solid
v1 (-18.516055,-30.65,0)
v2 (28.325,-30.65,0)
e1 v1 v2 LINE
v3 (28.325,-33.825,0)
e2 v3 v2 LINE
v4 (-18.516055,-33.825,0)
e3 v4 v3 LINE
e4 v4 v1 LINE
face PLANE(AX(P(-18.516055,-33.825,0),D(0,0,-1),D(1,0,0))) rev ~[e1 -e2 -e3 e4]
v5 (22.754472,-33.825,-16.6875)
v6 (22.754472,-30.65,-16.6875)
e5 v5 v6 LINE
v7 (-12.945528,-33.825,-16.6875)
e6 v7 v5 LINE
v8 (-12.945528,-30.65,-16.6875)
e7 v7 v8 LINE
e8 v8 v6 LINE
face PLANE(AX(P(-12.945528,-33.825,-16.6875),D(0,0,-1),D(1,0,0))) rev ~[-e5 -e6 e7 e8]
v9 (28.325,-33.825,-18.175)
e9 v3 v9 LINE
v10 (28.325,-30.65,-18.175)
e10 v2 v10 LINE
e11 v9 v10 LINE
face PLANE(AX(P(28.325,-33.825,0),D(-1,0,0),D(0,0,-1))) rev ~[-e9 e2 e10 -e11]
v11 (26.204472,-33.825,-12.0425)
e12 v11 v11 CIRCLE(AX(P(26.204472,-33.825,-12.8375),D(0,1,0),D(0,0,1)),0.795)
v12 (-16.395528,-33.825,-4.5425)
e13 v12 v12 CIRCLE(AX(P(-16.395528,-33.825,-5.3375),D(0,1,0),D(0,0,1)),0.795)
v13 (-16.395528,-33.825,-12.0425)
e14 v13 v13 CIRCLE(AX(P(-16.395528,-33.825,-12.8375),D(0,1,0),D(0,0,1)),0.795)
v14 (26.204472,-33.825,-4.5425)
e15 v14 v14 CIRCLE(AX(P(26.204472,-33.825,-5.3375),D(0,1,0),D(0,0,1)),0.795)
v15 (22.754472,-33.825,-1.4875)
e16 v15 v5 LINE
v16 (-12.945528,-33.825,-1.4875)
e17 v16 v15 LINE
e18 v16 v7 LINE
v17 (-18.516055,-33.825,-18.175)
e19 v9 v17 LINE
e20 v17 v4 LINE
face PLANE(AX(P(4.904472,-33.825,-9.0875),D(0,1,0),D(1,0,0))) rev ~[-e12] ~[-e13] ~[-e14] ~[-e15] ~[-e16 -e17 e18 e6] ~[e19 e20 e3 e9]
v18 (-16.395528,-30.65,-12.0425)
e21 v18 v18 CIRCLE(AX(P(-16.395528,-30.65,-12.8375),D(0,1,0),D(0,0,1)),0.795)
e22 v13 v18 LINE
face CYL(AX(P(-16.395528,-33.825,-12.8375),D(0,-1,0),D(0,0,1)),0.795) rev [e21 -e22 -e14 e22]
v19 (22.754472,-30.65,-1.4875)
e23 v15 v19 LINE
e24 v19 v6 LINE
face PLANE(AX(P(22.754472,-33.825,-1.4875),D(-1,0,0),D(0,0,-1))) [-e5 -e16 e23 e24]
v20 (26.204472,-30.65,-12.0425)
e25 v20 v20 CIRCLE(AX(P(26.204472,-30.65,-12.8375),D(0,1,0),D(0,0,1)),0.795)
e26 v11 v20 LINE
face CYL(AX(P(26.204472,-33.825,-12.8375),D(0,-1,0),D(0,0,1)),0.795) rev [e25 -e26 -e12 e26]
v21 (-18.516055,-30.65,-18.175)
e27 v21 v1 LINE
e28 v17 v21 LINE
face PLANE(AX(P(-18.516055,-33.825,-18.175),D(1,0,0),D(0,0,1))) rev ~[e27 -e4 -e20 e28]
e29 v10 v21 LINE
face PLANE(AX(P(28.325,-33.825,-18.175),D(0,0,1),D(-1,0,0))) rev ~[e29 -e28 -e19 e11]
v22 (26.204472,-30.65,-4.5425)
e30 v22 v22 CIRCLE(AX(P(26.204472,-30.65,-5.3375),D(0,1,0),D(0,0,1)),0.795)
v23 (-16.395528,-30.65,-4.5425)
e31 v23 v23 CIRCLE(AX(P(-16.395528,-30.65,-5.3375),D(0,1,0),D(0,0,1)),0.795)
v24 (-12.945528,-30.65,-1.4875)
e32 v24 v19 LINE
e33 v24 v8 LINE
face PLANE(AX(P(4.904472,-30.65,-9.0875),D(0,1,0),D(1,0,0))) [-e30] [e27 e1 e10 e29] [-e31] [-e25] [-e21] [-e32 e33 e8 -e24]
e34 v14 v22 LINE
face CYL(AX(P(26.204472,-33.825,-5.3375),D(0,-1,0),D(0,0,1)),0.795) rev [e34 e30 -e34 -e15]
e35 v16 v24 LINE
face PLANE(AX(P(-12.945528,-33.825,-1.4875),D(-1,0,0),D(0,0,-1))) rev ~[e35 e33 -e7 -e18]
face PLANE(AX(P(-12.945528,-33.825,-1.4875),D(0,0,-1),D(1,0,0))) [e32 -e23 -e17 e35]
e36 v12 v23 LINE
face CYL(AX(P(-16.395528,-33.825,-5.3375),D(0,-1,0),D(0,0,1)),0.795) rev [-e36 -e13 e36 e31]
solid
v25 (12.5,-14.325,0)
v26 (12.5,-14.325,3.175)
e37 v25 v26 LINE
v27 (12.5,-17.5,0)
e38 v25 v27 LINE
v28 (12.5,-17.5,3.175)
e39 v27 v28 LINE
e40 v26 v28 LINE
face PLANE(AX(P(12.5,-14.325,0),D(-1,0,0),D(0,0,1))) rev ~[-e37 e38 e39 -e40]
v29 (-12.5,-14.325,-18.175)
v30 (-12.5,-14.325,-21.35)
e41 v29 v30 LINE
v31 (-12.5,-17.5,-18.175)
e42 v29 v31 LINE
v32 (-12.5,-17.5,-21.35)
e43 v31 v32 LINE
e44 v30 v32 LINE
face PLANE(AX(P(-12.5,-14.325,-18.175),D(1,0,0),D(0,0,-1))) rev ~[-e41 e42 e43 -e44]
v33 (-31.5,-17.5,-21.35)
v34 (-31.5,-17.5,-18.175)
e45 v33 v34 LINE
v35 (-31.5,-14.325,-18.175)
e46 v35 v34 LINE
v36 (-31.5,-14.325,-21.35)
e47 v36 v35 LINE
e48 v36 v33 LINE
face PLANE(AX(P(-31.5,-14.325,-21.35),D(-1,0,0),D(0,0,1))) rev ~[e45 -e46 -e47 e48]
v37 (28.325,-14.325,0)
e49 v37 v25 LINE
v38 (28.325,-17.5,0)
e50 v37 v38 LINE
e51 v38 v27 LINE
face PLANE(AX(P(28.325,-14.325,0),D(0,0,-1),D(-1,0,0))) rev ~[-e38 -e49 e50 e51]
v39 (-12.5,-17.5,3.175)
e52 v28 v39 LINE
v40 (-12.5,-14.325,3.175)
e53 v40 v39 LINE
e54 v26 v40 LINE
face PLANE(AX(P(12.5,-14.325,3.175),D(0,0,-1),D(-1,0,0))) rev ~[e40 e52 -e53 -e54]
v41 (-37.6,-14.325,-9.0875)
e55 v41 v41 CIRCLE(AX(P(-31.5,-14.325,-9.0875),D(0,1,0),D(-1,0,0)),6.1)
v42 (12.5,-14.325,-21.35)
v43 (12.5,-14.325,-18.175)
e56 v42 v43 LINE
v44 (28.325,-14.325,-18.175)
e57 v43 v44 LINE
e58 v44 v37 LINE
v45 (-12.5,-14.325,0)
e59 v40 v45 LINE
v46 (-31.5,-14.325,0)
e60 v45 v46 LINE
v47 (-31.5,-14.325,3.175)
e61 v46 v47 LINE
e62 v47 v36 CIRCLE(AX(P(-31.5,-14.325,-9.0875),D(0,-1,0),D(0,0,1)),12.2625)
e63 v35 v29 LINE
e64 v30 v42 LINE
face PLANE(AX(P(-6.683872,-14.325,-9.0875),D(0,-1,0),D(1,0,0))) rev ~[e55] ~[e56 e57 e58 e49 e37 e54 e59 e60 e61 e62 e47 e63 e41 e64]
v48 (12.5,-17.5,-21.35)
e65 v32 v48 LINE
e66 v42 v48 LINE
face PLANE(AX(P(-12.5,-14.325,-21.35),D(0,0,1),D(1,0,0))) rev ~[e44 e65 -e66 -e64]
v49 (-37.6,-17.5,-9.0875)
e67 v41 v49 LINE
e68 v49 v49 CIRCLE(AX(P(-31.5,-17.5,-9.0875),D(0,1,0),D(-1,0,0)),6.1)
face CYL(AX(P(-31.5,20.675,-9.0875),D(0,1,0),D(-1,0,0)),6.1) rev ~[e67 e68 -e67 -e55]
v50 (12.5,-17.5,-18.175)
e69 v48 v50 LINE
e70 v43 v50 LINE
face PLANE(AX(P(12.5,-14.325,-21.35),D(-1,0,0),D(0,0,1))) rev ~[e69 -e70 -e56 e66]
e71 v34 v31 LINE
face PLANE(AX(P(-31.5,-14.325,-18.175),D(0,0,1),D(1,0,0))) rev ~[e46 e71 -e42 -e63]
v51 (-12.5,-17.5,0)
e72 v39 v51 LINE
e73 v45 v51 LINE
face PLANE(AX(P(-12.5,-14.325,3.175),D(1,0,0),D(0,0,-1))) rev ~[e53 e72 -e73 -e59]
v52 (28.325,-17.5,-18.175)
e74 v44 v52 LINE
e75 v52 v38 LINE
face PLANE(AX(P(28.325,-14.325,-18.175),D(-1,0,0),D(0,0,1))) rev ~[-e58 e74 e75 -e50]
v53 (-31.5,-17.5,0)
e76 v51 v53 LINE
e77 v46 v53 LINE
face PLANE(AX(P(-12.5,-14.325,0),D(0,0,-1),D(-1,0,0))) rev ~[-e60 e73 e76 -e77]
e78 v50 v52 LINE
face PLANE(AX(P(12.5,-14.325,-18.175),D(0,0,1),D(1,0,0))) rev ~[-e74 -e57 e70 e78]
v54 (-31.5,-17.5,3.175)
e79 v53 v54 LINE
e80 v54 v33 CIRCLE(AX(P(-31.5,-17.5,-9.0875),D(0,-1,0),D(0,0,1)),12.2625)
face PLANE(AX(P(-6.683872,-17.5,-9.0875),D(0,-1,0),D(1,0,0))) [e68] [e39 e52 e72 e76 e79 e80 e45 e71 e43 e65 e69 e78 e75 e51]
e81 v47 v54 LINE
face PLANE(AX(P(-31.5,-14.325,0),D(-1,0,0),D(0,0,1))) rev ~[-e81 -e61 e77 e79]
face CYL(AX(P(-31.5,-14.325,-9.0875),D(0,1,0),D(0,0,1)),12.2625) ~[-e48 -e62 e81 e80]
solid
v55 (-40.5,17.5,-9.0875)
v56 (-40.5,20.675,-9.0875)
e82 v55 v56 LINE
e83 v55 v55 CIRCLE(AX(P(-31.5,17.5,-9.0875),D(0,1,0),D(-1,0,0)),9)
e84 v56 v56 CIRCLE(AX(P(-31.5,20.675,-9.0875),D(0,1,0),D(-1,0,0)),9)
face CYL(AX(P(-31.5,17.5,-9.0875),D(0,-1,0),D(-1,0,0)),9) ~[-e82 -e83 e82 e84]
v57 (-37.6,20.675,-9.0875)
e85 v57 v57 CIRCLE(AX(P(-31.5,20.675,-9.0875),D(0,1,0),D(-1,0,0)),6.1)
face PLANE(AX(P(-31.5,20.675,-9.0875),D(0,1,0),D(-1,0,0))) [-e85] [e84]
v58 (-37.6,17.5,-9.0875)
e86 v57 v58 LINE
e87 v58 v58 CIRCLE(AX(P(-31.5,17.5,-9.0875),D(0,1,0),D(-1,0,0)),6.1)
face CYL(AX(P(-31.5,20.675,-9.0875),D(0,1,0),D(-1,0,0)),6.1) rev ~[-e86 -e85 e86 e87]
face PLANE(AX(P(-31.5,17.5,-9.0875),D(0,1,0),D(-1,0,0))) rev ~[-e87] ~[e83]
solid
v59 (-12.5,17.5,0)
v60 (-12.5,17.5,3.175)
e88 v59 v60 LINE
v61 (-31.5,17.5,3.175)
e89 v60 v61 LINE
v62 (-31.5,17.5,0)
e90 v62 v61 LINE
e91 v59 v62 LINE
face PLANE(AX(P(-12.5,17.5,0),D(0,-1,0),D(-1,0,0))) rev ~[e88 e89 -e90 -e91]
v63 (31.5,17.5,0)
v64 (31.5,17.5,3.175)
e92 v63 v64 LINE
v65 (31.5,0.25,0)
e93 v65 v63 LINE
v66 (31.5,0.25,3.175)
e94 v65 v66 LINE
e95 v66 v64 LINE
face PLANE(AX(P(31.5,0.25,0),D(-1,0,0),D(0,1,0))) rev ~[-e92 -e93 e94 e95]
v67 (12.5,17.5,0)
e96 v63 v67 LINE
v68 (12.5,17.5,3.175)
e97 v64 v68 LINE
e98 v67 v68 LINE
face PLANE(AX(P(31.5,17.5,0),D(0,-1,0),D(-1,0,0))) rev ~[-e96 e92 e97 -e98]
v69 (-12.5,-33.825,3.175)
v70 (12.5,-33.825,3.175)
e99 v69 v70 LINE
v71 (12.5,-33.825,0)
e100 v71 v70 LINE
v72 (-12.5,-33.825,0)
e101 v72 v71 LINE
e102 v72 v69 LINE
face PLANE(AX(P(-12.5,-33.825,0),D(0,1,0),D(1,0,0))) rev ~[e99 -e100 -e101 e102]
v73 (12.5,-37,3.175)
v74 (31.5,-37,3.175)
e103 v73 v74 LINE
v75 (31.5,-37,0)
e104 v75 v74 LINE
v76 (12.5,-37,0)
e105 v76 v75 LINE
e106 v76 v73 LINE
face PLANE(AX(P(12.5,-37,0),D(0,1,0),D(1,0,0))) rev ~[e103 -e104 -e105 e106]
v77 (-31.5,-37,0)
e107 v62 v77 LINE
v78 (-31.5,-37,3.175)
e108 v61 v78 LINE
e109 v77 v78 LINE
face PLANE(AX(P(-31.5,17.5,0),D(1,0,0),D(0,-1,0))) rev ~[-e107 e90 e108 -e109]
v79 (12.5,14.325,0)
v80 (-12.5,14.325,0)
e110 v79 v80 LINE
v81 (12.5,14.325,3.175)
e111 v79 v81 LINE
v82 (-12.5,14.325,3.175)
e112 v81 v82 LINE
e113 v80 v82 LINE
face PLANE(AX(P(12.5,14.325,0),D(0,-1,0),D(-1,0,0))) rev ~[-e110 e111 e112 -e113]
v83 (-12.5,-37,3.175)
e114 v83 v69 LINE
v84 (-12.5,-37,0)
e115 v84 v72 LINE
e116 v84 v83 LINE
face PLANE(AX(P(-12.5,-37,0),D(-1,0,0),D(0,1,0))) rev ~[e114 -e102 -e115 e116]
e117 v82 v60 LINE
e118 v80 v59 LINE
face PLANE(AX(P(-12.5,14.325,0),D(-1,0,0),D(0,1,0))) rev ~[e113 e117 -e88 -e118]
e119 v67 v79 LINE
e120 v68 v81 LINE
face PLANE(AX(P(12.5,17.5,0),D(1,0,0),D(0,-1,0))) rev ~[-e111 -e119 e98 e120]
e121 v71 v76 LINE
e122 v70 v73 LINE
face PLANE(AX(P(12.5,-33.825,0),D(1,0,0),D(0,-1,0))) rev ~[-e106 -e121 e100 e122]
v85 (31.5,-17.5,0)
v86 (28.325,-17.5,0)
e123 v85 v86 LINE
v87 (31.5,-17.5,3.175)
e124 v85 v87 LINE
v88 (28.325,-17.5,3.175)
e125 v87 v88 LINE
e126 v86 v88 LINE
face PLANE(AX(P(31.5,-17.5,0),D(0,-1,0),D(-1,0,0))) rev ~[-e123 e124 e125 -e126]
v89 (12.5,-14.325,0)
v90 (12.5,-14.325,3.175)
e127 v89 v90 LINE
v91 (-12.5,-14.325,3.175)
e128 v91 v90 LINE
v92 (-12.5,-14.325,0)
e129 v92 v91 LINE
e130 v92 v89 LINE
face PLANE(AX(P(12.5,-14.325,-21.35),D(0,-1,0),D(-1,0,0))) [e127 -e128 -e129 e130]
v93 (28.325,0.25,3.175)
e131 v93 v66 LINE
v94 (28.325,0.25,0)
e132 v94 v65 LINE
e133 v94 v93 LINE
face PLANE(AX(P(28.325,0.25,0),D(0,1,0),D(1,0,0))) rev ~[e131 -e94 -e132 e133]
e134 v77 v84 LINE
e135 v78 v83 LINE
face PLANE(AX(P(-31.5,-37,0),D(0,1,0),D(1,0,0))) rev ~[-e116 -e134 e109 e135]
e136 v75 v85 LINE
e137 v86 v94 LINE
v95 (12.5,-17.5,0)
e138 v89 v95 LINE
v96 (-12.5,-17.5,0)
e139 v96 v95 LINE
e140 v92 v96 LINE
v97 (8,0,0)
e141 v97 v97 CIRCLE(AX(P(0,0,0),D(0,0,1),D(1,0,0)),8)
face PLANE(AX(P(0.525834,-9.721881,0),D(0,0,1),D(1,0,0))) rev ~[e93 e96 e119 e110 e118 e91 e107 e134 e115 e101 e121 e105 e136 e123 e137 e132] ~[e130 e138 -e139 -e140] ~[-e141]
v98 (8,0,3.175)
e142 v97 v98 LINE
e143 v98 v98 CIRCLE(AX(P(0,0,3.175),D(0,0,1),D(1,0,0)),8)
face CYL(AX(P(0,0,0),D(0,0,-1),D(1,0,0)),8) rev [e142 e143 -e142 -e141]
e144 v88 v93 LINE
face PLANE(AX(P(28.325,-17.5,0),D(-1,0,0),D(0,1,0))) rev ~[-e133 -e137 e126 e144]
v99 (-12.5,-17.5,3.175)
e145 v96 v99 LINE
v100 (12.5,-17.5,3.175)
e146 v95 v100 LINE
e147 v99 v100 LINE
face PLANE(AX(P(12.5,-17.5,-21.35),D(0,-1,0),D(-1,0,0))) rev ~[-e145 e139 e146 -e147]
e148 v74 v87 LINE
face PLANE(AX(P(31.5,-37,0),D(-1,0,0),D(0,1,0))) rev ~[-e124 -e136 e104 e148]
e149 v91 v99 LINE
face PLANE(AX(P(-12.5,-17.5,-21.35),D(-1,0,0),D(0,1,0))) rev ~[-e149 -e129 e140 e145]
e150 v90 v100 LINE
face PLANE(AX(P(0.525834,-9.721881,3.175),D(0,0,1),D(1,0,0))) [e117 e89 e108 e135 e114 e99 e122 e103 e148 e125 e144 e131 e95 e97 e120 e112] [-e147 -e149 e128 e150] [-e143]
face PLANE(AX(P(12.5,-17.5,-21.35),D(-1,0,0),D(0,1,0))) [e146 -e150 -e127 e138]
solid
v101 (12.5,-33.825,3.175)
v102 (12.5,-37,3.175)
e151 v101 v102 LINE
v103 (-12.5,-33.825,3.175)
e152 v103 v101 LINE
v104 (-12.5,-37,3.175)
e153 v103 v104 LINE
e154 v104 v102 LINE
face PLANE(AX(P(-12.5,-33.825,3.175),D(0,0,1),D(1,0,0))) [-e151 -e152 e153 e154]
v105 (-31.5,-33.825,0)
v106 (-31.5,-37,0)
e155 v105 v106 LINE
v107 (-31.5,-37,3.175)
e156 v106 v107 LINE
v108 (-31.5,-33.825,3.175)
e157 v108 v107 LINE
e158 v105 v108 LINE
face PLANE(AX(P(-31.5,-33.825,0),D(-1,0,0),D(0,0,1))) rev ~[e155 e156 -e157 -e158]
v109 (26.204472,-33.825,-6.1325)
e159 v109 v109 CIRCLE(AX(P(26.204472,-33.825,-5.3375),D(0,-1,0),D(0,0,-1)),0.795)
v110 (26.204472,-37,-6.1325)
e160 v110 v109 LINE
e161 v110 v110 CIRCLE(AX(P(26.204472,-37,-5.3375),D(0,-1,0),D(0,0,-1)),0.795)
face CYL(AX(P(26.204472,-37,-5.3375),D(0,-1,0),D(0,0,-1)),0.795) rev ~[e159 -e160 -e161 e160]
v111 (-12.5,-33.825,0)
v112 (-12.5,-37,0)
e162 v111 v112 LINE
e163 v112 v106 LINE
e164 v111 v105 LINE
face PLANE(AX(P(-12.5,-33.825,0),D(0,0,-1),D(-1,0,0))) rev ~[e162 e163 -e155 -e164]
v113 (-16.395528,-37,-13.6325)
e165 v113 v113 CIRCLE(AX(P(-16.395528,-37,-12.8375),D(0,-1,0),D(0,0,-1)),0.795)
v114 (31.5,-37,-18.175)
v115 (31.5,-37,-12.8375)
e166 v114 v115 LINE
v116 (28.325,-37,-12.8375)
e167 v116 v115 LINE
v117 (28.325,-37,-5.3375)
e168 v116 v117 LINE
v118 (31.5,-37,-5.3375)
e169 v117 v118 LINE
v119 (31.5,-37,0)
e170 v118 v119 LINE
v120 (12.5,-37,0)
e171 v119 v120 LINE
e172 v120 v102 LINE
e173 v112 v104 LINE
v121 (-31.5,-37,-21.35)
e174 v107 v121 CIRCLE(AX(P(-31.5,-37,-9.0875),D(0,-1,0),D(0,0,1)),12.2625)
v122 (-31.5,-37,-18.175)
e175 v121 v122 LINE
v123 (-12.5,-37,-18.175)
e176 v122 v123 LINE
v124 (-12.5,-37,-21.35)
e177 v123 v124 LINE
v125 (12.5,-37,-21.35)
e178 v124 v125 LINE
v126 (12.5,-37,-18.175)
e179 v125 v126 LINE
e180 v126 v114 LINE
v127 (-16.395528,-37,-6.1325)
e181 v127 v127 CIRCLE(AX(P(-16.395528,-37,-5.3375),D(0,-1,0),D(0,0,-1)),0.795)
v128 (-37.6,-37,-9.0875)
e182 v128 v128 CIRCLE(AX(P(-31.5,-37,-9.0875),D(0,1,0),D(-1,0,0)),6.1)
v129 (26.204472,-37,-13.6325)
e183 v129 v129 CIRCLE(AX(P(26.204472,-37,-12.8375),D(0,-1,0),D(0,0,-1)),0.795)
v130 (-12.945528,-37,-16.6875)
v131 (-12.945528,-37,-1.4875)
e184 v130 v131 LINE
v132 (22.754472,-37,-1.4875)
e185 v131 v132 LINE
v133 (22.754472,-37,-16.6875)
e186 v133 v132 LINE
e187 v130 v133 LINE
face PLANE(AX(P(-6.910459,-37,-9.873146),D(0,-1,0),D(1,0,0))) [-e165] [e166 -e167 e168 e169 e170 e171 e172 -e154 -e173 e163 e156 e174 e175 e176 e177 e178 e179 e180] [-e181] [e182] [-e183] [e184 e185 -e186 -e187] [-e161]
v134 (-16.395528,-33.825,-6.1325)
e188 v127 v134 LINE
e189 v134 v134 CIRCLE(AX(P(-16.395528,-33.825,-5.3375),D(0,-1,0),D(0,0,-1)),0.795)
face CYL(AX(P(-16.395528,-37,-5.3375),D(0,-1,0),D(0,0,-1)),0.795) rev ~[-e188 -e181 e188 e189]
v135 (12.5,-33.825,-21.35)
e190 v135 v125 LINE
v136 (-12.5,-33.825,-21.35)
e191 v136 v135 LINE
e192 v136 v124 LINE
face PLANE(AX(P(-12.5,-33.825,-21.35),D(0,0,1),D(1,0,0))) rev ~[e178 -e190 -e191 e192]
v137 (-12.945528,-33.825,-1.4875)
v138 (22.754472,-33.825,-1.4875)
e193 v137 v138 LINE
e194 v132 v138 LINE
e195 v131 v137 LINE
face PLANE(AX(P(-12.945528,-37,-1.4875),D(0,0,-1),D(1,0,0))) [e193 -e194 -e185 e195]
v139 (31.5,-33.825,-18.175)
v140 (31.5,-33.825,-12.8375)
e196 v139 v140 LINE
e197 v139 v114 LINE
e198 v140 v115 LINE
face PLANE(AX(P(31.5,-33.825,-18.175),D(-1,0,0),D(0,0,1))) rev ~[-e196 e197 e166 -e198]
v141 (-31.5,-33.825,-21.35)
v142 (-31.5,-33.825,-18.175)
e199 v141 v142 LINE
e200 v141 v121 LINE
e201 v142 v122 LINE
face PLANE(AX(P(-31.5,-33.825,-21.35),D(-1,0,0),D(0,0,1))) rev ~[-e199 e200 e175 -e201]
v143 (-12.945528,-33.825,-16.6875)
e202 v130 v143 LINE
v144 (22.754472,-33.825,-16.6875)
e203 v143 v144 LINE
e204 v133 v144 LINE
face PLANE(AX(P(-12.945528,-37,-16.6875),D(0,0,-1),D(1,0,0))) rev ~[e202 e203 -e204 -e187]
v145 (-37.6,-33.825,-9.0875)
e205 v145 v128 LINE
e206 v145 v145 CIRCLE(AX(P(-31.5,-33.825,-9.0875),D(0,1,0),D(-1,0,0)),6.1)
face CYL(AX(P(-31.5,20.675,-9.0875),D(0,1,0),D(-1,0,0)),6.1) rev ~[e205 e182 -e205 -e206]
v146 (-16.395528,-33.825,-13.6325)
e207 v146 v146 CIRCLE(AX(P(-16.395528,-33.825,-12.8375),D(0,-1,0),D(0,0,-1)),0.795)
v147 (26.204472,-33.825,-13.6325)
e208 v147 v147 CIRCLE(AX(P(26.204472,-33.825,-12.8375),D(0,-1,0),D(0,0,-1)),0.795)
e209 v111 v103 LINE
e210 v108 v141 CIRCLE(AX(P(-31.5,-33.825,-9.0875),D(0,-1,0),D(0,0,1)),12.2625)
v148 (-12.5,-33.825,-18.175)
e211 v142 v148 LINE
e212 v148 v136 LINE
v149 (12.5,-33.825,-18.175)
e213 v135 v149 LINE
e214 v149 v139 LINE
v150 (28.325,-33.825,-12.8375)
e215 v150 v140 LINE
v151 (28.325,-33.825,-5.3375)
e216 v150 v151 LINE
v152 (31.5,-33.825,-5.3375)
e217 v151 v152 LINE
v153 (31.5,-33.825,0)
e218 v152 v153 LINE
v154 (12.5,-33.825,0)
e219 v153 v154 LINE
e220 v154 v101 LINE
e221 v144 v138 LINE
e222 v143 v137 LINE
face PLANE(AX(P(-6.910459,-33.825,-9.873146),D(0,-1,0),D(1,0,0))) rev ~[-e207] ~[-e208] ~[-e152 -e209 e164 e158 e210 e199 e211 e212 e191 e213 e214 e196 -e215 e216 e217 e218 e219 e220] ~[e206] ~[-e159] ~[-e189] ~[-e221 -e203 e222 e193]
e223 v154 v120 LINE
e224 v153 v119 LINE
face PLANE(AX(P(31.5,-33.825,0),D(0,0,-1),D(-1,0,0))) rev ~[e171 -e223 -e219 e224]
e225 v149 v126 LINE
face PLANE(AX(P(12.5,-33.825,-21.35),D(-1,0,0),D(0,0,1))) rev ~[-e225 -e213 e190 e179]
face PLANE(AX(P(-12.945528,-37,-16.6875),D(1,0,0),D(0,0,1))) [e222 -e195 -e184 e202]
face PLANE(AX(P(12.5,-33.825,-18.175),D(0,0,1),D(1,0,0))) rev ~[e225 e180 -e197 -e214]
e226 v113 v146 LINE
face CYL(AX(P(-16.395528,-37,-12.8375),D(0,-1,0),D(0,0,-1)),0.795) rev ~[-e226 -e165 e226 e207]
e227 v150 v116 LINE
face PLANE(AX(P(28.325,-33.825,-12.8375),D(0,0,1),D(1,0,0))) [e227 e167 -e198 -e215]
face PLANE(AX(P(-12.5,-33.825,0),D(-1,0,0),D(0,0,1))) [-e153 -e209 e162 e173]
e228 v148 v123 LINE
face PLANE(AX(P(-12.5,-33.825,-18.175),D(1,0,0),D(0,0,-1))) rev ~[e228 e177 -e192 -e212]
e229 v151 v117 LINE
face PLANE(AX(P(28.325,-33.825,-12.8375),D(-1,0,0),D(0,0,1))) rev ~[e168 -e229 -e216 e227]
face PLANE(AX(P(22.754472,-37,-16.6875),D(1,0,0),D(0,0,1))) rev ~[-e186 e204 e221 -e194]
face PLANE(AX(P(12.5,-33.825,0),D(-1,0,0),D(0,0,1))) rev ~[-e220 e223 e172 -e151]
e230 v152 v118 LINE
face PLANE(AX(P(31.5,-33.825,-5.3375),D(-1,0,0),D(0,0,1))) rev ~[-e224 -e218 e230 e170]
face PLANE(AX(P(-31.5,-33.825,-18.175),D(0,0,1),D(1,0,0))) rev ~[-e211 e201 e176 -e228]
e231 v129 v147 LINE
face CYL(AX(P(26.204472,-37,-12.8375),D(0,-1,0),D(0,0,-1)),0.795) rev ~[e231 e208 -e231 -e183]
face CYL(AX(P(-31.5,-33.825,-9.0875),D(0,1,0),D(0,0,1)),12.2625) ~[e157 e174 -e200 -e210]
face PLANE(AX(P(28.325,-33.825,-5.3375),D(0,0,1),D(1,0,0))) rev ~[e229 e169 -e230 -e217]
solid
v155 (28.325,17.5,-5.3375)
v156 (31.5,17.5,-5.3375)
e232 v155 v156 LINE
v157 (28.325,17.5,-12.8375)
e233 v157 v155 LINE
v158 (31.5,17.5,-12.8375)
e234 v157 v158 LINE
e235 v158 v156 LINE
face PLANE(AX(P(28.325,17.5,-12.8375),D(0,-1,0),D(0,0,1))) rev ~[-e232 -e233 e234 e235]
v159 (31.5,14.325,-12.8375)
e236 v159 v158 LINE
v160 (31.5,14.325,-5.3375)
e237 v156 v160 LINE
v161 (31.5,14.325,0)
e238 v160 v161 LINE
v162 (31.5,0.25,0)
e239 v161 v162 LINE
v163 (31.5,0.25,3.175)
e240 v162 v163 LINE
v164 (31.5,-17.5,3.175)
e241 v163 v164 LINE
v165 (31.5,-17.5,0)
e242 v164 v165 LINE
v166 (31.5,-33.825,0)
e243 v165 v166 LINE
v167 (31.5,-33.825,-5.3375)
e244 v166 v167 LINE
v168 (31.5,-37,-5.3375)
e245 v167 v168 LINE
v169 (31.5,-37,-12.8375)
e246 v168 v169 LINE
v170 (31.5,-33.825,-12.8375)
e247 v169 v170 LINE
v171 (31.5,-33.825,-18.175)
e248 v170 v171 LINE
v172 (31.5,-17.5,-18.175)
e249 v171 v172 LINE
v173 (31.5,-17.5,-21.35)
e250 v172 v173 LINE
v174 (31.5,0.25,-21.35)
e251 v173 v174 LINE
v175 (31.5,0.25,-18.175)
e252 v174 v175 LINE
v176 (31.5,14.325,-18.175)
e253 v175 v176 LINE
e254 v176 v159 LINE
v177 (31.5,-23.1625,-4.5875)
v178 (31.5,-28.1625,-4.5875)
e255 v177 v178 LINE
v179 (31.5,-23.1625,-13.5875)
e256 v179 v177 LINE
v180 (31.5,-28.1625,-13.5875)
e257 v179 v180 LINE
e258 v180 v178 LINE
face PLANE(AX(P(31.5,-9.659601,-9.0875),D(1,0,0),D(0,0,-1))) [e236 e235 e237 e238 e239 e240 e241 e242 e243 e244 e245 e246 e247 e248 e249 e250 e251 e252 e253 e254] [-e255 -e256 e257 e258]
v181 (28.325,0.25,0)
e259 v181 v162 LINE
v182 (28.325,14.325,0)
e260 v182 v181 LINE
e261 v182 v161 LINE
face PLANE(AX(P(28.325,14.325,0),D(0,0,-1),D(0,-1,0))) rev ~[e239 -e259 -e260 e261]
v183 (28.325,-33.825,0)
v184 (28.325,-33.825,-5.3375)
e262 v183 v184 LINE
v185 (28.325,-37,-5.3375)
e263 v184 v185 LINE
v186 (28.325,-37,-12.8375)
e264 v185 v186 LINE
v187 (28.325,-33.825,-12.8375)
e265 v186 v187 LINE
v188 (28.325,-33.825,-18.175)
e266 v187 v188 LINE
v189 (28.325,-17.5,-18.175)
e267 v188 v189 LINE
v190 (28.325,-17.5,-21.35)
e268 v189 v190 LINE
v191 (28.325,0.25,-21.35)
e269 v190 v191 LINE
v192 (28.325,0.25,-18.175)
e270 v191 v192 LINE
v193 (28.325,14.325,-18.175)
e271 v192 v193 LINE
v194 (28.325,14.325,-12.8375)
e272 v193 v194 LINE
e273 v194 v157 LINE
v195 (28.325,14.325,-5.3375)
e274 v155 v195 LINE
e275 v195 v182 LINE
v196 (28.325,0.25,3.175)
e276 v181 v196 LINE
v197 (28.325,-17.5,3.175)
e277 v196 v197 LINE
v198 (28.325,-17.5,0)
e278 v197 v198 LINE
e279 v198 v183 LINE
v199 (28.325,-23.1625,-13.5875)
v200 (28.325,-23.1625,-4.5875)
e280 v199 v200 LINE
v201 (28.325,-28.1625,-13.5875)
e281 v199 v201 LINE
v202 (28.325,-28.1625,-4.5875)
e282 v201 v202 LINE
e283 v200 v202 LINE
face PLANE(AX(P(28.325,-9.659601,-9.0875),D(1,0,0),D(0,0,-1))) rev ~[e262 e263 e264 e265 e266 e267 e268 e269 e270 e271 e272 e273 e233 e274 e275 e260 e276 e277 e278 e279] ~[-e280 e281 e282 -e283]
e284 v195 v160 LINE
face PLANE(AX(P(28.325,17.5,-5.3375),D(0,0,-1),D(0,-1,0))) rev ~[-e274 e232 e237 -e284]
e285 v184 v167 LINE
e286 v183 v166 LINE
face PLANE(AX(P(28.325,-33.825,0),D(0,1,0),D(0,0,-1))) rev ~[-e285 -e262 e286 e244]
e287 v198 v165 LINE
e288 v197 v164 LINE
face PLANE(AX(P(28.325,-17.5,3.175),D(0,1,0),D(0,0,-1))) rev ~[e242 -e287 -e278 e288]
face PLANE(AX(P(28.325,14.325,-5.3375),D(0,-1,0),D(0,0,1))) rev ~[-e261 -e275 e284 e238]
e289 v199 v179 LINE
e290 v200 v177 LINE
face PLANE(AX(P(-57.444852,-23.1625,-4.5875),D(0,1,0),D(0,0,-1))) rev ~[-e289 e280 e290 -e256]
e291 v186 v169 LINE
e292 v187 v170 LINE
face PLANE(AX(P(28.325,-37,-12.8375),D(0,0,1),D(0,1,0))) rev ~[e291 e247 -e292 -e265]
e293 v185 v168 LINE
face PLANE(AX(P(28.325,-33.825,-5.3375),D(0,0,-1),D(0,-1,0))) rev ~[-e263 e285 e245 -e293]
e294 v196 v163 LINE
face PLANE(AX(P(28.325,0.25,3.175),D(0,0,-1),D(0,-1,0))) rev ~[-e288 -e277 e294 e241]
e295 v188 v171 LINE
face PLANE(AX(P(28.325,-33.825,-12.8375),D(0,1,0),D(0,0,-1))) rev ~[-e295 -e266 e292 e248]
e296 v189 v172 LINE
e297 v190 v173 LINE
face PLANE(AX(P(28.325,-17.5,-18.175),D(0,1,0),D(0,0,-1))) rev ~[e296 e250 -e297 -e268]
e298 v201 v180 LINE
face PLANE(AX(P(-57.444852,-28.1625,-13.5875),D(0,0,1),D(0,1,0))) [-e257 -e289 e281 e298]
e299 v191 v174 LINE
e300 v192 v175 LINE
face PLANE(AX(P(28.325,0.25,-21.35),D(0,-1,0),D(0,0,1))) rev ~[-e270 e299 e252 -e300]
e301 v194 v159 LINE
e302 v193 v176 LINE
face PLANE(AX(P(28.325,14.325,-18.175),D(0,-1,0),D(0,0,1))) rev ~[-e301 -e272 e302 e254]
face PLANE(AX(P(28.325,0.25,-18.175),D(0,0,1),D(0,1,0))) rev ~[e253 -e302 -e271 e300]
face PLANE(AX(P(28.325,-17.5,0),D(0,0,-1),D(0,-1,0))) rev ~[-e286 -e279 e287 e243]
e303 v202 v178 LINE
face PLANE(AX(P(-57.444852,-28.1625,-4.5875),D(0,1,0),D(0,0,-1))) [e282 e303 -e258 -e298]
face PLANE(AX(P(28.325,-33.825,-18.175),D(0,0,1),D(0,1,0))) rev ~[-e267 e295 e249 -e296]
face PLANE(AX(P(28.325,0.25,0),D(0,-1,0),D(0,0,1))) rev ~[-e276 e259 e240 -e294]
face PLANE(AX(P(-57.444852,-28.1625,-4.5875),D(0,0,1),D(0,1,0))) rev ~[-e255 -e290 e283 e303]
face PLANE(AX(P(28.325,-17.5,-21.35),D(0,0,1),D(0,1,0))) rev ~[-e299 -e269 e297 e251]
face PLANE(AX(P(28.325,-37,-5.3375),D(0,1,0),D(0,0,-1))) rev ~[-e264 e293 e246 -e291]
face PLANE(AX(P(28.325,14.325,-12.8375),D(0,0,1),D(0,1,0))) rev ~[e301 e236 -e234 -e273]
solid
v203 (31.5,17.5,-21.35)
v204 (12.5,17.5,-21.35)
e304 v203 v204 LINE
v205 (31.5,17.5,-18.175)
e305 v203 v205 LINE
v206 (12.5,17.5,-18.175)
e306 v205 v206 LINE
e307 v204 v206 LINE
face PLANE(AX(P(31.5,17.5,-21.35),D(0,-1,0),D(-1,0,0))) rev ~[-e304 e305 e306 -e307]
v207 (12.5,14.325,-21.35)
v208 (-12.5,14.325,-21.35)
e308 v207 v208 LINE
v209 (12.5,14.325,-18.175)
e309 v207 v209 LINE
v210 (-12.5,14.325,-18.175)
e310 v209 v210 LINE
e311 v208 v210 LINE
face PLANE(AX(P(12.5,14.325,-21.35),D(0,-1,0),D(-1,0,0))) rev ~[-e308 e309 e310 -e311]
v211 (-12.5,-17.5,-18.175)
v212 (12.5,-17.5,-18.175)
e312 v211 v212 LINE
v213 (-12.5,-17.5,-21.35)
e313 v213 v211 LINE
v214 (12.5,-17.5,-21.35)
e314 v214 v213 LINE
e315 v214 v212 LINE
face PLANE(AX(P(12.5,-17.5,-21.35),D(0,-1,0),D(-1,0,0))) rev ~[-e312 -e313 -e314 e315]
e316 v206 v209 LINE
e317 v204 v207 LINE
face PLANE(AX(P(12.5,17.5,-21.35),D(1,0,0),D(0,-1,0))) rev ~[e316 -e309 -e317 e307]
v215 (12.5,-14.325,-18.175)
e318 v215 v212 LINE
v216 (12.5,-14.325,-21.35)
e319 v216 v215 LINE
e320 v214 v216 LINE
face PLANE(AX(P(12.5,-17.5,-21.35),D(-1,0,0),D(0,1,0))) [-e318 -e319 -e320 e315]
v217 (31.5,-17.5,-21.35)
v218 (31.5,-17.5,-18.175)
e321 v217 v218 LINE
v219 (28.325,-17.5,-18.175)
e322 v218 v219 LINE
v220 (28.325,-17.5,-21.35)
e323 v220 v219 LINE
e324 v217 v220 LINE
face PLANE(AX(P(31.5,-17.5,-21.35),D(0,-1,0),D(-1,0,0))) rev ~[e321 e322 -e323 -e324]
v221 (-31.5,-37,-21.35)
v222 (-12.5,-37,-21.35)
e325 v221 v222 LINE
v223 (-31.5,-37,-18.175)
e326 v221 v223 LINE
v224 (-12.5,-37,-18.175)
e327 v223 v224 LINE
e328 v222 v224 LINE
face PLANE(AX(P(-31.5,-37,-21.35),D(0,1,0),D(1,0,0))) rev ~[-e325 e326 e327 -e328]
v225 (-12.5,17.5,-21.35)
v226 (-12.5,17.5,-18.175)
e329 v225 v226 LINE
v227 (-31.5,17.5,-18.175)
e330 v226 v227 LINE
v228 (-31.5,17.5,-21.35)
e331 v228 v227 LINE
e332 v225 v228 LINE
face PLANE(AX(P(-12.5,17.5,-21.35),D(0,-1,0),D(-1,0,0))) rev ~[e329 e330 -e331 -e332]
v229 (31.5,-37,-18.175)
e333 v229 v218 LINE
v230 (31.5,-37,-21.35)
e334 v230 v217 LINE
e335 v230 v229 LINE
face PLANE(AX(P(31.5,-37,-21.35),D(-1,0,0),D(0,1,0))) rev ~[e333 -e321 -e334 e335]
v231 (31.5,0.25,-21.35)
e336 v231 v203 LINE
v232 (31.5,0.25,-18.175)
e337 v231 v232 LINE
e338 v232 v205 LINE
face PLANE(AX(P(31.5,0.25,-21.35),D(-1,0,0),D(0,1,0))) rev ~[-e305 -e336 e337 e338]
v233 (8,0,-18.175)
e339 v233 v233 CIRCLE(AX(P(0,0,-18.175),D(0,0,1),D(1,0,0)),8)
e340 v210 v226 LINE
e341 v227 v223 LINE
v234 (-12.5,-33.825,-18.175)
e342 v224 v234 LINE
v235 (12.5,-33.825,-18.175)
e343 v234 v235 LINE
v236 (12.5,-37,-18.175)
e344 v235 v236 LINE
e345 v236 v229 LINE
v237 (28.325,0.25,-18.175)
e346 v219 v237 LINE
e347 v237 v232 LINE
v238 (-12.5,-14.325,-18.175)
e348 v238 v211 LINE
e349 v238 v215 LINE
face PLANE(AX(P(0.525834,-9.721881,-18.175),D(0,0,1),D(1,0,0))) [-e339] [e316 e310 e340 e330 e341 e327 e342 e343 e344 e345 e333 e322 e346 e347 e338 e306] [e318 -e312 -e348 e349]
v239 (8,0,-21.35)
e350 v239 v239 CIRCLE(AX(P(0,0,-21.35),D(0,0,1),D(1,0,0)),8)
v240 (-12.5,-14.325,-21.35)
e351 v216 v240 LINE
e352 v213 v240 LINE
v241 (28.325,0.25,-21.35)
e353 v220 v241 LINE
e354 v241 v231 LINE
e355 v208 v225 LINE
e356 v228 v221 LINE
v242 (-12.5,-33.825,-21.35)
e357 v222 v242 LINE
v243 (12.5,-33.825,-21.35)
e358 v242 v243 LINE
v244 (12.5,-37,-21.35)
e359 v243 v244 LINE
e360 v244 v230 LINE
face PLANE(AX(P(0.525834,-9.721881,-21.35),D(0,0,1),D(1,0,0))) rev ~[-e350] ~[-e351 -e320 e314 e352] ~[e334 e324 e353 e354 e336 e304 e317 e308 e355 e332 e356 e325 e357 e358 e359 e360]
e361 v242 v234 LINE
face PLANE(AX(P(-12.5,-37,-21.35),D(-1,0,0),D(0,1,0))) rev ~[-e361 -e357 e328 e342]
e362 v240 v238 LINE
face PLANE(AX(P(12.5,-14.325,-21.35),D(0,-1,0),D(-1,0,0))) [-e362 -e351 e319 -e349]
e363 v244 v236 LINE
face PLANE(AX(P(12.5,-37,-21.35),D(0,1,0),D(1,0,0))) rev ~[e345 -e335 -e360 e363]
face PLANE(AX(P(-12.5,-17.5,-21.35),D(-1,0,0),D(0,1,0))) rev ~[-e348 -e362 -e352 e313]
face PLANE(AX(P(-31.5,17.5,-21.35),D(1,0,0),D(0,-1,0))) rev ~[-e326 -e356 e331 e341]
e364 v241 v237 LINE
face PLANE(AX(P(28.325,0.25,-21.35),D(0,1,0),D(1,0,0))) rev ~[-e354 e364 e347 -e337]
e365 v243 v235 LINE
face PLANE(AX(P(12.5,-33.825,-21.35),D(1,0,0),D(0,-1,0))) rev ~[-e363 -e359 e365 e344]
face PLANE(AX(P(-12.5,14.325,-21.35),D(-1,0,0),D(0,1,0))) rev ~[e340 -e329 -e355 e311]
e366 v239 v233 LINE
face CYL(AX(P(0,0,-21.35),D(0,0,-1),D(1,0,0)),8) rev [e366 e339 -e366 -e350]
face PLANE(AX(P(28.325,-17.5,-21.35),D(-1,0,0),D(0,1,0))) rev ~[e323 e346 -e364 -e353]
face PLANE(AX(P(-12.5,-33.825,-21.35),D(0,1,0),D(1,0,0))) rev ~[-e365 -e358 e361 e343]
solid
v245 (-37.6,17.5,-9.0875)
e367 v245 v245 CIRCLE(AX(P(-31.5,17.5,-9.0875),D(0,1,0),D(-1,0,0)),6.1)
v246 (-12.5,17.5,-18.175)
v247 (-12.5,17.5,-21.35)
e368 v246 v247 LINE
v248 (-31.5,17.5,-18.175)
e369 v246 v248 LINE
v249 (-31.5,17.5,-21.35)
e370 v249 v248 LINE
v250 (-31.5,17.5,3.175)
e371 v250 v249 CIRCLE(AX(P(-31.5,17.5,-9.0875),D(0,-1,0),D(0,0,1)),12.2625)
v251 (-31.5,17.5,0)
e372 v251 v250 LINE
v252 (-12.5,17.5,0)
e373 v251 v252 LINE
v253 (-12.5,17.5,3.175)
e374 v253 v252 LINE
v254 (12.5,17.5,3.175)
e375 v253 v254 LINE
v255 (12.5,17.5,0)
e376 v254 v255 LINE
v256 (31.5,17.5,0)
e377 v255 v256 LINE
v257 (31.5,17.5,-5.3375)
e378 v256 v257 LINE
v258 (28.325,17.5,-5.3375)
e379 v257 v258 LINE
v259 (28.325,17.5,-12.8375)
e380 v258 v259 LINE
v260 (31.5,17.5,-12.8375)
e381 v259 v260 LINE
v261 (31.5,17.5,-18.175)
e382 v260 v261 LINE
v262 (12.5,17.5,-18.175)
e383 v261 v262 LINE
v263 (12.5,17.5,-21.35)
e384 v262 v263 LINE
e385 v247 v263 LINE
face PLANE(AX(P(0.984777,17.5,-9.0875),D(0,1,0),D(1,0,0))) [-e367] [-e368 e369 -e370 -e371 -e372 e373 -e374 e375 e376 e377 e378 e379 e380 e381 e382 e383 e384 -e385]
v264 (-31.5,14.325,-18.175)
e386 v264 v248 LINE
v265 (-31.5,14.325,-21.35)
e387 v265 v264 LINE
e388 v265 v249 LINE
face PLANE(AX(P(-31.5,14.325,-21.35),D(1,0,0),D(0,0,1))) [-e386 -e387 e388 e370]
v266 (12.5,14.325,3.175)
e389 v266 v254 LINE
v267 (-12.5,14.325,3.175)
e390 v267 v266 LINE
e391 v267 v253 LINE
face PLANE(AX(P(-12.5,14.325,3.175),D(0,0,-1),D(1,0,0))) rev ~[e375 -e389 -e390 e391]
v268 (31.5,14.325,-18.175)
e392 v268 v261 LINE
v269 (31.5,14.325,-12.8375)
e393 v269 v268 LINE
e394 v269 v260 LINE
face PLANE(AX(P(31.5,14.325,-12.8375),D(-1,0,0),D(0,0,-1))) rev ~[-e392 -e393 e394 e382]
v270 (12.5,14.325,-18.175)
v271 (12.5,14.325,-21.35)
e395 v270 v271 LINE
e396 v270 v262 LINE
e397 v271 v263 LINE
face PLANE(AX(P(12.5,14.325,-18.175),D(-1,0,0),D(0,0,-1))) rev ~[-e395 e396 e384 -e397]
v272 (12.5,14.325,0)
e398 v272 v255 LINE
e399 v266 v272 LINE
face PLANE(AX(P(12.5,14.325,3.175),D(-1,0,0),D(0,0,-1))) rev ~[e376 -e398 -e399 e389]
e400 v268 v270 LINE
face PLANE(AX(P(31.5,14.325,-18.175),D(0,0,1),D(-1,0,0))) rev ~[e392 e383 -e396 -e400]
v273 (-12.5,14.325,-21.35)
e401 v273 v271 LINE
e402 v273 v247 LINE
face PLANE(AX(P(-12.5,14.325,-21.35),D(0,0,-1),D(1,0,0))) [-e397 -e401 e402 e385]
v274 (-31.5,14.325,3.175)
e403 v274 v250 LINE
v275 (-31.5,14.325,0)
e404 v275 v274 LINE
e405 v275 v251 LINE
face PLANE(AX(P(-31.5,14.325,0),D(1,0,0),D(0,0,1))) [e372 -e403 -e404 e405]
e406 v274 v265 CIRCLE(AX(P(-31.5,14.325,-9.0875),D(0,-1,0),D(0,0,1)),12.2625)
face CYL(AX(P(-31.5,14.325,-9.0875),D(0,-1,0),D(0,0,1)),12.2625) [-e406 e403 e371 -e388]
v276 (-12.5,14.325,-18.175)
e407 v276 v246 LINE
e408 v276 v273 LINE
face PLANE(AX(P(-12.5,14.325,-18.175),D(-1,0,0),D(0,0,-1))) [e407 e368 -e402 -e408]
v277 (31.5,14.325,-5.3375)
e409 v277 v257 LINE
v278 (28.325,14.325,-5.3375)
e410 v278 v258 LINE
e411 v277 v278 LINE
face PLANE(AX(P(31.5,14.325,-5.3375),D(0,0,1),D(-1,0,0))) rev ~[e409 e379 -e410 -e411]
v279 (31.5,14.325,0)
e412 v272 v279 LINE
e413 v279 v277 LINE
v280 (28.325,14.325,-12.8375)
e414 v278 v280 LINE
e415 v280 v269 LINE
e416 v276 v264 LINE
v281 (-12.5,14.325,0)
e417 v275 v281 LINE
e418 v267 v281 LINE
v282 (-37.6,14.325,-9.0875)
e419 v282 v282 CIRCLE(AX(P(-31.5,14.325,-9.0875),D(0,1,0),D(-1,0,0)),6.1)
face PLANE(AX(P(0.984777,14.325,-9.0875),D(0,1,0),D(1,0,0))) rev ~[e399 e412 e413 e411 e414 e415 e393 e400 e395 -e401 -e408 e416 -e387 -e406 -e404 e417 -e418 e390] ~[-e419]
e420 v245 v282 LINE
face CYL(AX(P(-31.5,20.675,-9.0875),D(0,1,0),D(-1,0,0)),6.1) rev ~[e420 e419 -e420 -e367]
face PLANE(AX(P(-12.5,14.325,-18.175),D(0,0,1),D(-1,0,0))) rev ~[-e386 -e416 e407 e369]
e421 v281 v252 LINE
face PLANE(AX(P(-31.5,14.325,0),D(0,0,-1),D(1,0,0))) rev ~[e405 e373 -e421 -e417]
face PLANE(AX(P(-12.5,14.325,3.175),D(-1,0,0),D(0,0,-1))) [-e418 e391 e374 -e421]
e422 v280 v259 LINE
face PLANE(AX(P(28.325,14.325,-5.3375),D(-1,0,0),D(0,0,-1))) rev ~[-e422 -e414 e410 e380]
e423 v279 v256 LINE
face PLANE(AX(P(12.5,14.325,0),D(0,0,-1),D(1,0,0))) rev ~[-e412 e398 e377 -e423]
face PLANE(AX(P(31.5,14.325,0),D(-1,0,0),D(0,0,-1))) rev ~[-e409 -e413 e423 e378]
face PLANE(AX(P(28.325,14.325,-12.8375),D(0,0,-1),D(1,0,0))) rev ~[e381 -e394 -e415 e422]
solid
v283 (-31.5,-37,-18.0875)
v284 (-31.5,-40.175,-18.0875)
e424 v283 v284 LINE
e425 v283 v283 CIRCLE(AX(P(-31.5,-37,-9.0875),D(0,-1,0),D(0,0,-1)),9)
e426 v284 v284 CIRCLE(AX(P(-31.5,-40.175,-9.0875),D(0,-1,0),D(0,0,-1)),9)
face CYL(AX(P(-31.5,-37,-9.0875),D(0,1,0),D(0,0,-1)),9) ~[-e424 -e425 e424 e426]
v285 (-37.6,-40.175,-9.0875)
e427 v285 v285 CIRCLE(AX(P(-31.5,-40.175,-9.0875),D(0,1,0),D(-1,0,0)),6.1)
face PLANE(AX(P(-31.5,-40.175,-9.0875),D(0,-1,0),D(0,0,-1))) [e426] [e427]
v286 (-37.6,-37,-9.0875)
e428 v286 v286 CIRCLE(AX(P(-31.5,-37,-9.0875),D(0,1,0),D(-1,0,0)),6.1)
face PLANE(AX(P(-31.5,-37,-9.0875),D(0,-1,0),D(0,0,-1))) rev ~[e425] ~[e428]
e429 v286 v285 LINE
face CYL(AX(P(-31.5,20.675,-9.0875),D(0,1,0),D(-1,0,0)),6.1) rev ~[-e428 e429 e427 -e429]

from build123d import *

# Parameters (mm, degrees)
SKETCH_3_R               = 8
EXTRUDE_2_DEPTH          = 3.175
PATTERN_LINEAR_1_COUNT   = 2
PATTERN_LINEAR_1_PITCH   = 21.35
SKETCH_4_W               = 25
SKETCH_4_H               = 3.175
CUT_EXTRUDE_1_DEPTH      = 55.430925263
SKETCH_5_W               = 25
SKETCH_5_H               = 3.175
EXTRUDE_3_DEPTH          = 3.175
EXTRUDE_4_DEPTH          = 3.175
SKETCH_7_W               = 25
SKETCH_7_H               = 3.175
SKETCH_7_W_2             = 3.175
SKETCH_7_H_2             = 5.3375
EXTRUDE_5_DEPTH          = 3.175
EXTRUDE_6_DEPTH          = 3.175
SKETCH_12_R              = 0.795
SKETCH_12_W              = 35.7
SKETCH_12_H              = 15.2
CUT_EXTRUDE_2_DEPTH      = 74.083711634
SKETCH_14_R              = 0.795
SKETCH_14_W              = 35.7
SKETCH_14_H              = 15.2
EXTRUDE_9_DEPTH          = 3.175
SKETCH_9_R               = 9
EXTRUDE_7_DEPTH          = 3.175
SKETCH_10_R              = 9
EXTRUDE_8_DEPTH          = 3.175
SKETCH_15_R              = 6.1
CUT_EXTRUDE_3_DEPTH      = 78.933955413
CUT_EXTRUDE_4_DEPTH      = 88.944852216
CUT_EXTRUDE_4_DEPTH_BACK = 88.944852216
SKETCH_16_W              = 9
SKETCH_16_H              = 5


with BuildPart() as part:
    # 草图3 → 凸台-拉伸2 (new body)
    with BuildSketch(Plane.XY):
        Polygon((31.5, 0.25), (31.5, 17.5), (12.5, 17.5), (12.5, 14.325), (-12.5, 14.325), (-12.5, 17.5), (-31.5, 17.5), (-31.5, -37), (-12.5, -37), (-12.5, -33.825), (12.5, -33.825), (12.5, -37), (31.5, -37), (31.5, -17.5), (28.325, -17.5), (28.325, 0.25), align=None)
        Circle(SKETCH_3_R, mode=Mode.SUBTRACT)
    extrude(amount=EXTRUDE_2_DEPTH)


with BuildPart() as pattern_linear_1_1:
    # 阵列(线性)1: pattern copy
    add(part.part.moved(Location(Vector(0, 0, -1) * (1 * PATTERN_LINEAR_1_PITCH))))


with BuildPart() as cut_extrude_1_tool:
    # 草图4 → 切除-拉伸1 (new, through all)
    with BuildSketch(Plane(origin=(0, 0, -21.35), x_dir=(-1, 0, 0), z_dir=(0, 0, -1))):
        with Locations((0, -15.9125)):
            Rectangle(SKETCH_4_W, SKETCH_4_H)
    extrude(amount=-CUT_EXTRUDE_1_DEPTH)


with BuildPart() as part_1:
    add(part.part)

    # 切除-拉伸1: cut by cut_extrude_1_tool
    add(cut_extrude_1_tool.part, mode=Mode.SUBTRACT)


with BuildPart() as pattern_linear_1_1_1:
    add(pattern_linear_1_1.part)

    # 切除-拉伸1: cut by cut_extrude_1_tool
    add(cut_extrude_1_tool.part, mode=Mode.SUBTRACT)


with BuildPart() as body_3:
    # 草图5 → 凸台-拉伸3 (new body)
    with BuildSketch(Plane(origin=(0, 14.325, 0), x_dir=(1, 0, 0), z_dir=(0, 1, 0))):
        Polygon((-12.5, 18.175), (-31.5, 18.175), (-31.5, 0), (-12.5, 0), (12.5, 0), (31.5, 0), (31.5, 5.3375), (28.325, 5.3375), (28.325, 12.8375), (31.5, 12.8375), (31.5, 18.175), (12.5, 18.175), align=None)
        with BuildLine():
            ThreePointArc((-31.5, -3.175), (-43.7625, 9.0875), (-31.5, 21.35))
            Line((-31.5, 21.35), (-31.5, -3.175))
        make_face()
        with Locations((0, 19.7625)):
            Rectangle(SKETCH_5_W, SKETCH_5_H)
        with Locations((0, -1.5875)):
            Rectangle(SKETCH_5_W, SKETCH_5_H)
    extrude(amount=EXTRUDE_3_DEPTH)


with BuildPart() as body_4:
    # 草图6 → 凸台-拉伸4 (new body)
    with BuildSketch(Plane.XZ.offset(14.325)):
        with BuildLine():
            Line((28.325, 0), (12.5, 0))
            Line((12.5, 0), (12.5, 3.175))
            Line((12.5, 3.175), (-12.5, 3.175))
            Line((-12.5, 3.175), (-12.5, 0))
            Line((-12.5, 0), (-31.5, 0))
            Line((-31.5, 0), (-31.5, 3.175))
            ThreePointArc((-31.5, 3.175), (-43.7625, -9.0875), (-31.5, -21.35))
            Line((-31.5, -21.35), (-31.5, -18.175))
            Line((-31.5, -18.175), (-12.5, -18.175))
            Line((-12.5, -18.175), (-12.5, -21.35))
            Line((-12.5, -21.35), (12.5, -21.35))
            Line((12.5, -21.35), (12.5, -18.175))
            Line((12.5, -18.175), (28.325, -18.175))
            Line((28.325, -18.175), (28.325, 0))
        make_face()
    extrude(amount=EXTRUDE_4_DEPTH)


with BuildPart() as body_5:
    # 草图7 → 凸台-拉伸5 (new body)
    with BuildSketch(Plane.XZ.offset(33.825)):
        with BuildLine():
            Line((-31.5, 0), (-31.5, 3.175))
            ThreePointArc((-31.5, 3.175), (-43.7625, -9.0875), (-31.5, -21.35))
            Line((-31.5, -21.35), (-31.5, -18.175))
            Line((-31.5, -18.175), (-12.5, -18.175))
            Line((-12.5, -18.175), (-12.5, -21.35))
            Line((-12.5, -21.35), (12.5, -21.35))
            Line((12.5, -21.35), (12.5, -18.175))
            Line((12.5, -18.175), (28.325, -18.175))
            Line((28.325, -18.175), (28.325, 0))
            Line((28.325, 0), (12.5, 0))
            Line((12.5, 0), (-12.5, 0))
            Line((-12.5, 0), (-31.5, 0))
        make_face()
        with Locations((0, 1.5875)):
            Rectangle(SKETCH_7_W, SKETCH_7_H)
        with Locations((29.9125, -2.66875)):
            Rectangle(SKETCH_7_W_2, SKETCH_7_H_2)
        with Locations((29.9125, -15.50625)):
            Rectangle(SKETCH_7_W_2, SKETCH_7_H_2)
    extrude(amount=EXTRUDE_5_DEPTH)

    # 草图12 → 切除-拉伸2 (cut, through all)
    with BuildSketch(Plane.XZ.offset(37)):
        with Locations(Location((26.204472492, -5.3375, 0), (0, 0, 270))):
            Circle(SKETCH_12_R)
        with Locations(Location((26.204472492, -12.8375, 0), (0, 0, 270))):
            Circle(SKETCH_12_R)
        with Locations(Location((-16.395527508, -12.8375, 0), (0, 0, 270))):
            Circle(SKETCH_12_R)
        with Locations(Location((-16.395527508, -5.3375, 0), (0, 0, 270))):
            Circle(SKETCH_12_R)
        with Locations((4.904472492, -9.0875)):
            Rectangle(SKETCH_12_W, SKETCH_12_H)
    extrude(amount=-CUT_EXTRUDE_2_DEPTH, mode=Mode.SUBTRACT)


with BuildPart() as body_6:
    # 草图8 → 凸台-拉伸6 (new body)
    with BuildSketch(Plane(origin=(28.325, 0, 0), x_dir=(0, 0, -1), z_dir=(1, 0, 0))):
        Polygon((12.8375, -37), (12.8375, -33.825), (18.175, -33.825), (18.175, -17.5), (21.35, -17.5), (21.35, 0.25), (18.175, 0.25), (18.175, 14.325), (12.8375, 14.325), (12.8375, 17.5), (5.3375, 17.5), (5.3375, 14.325), (0, 14.325), (0, 0.25), (-3.175, 0.25), (-3.175, -17.5), (0, -17.5), (0, -33.825), (5.3375, -33.825), (5.3375, -37), align=None)
    extrude(amount=EXTRUDE_6_DEPTH)

    # 草图16 → 切除-拉伸4 (cut, two sides: drawn at the far end of the back side and taken through both)
    with BuildSketch(Plane(origin=(31.5, 0, 0), x_dir=(0, 0, -1), z_dir=(1, 0, 0)).offset(-CUT_EXTRUDE_4_DEPTH_BACK)):
        with Locations((9.0875, -25.6625)):
            Rectangle(SKETCH_16_W, SKETCH_16_H)
    extrude(amount=CUT_EXTRUDE_4_DEPTH + CUT_EXTRUDE_4_DEPTH_BACK, mode=Mode.SUBTRACT)


with BuildPart() as body_7:
    # 草图14 → 凸台-拉伸9 (new body)
    with BuildSketch(Plane(origin=(0, -33.825, 0), x_dir=(1, 0, 0), z_dir=(0, 1, 0))):
        Polygon((28.325, 12.8375), (28.325, 18.175), (12.5, 18.175), (-12.5, 18.175), (-18.516055016, 18.175), (-18.516055016, 12.8375), (-18.516055016, 5.3375), (-18.516055016, 0), (-12.5, 0), (12.5, 0), (28.325, 0), (28.325, 5.3375), align=None)
        with Locations(Location((-16.395527508, 5.3375, 0), (0, 0, 270))):
            Circle(SKETCH_14_R, mode=Mode.SUBTRACT)
        with Locations((4.904472492, 9.0875)):
            Rectangle(SKETCH_14_W, SKETCH_14_H, mode=Mode.SUBTRACT)
        with Locations(Location((26.204472492, 5.3375, 0), (0, 0, 270))):
            Circle(SKETCH_14_R, mode=Mode.SUBTRACT)
        with Locations(Location((-16.395527508, 12.8375, 0), (0, 0, 270))):
            Circle(SKETCH_14_R, mode=Mode.SUBTRACT)
        with Locations(Location((26.204472492, 12.8375, 0), (0, 0, 270))):
            Circle(SKETCH_14_R, mode=Mode.SUBTRACT)
    extrude(amount=EXTRUDE_9_DEPTH)


with BuildPart() as body_8:
    # 草图9 → 凸台-拉伸7 (new body)
    with BuildSketch(Plane(origin=(0, 17.5, 0), x_dir=(1, 0, 0), z_dir=(0, 1, 0))):
        with Locations(Location((-31.5, 9.0875, 0), (0, 0, 180))):
            Circle(SKETCH_9_R)
    extrude(amount=EXTRUDE_7_DEPTH)


with BuildPart() as body_9:
    # 草图10 → 凸台-拉伸8 (new body)
    with BuildSketch(Plane.XZ.offset(37)):
        with Locations(Location((-31.5, -9.0875, 0), (0, 0, 270))):
            Circle(SKETCH_10_R)
    extrude(amount=EXTRUDE_8_DEPTH)


with BuildPart() as cut_extrude_3_tool:
    # 草图15 → 切除-拉伸3 (new, through all)
    with BuildSketch(Plane(origin=(0, 20.675, 0), x_dir=(1, 0, 0), z_dir=(0, 1, 0))):
        with Locations(Location((-31.5, 9.0875, 0), (0, 0, 180))):
            Circle(SKETCH_15_R)
    extrude(amount=-CUT_EXTRUDE_3_DEPTH)


with BuildPart() as body_3_1:
    add(body_3.part)

    # 切除-拉伸3: cut by cut_extrude_3_tool
    add(cut_extrude_3_tool.part, mode=Mode.SUBTRACT)


with BuildPart() as body_4_1:
    add(body_4.part)

    # 切除-拉伸3: cut by cut_extrude_3_tool
    add(cut_extrude_3_tool.part, mode=Mode.SUBTRACT)


with BuildPart() as body_5_1:
    add(body_5.part)

    # 切除-拉伸3: cut by cut_extrude_3_tool
    add(cut_extrude_3_tool.part, mode=Mode.SUBTRACT)


with BuildPart() as body_8_1:
    add(body_8.part)

    # 切除-拉伸3: cut by cut_extrude_3_tool
    add(cut_extrude_3_tool.part, mode=Mode.SUBTRACT)


with BuildPart() as body_9_1:
    add(body_9.part)

    # 切除-拉伸3: cut by cut_extrude_3_tool
    add(cut_extrude_3_tool.part, mode=Mode.SUBTRACT)


solid = Compound([part_1.part, pattern_linear_1_1_1.part, body_6.part, body_7.part, body_3_1.part, body_4_1.part, body_5_1.part, body_8_1.part, body_9_1.part])
